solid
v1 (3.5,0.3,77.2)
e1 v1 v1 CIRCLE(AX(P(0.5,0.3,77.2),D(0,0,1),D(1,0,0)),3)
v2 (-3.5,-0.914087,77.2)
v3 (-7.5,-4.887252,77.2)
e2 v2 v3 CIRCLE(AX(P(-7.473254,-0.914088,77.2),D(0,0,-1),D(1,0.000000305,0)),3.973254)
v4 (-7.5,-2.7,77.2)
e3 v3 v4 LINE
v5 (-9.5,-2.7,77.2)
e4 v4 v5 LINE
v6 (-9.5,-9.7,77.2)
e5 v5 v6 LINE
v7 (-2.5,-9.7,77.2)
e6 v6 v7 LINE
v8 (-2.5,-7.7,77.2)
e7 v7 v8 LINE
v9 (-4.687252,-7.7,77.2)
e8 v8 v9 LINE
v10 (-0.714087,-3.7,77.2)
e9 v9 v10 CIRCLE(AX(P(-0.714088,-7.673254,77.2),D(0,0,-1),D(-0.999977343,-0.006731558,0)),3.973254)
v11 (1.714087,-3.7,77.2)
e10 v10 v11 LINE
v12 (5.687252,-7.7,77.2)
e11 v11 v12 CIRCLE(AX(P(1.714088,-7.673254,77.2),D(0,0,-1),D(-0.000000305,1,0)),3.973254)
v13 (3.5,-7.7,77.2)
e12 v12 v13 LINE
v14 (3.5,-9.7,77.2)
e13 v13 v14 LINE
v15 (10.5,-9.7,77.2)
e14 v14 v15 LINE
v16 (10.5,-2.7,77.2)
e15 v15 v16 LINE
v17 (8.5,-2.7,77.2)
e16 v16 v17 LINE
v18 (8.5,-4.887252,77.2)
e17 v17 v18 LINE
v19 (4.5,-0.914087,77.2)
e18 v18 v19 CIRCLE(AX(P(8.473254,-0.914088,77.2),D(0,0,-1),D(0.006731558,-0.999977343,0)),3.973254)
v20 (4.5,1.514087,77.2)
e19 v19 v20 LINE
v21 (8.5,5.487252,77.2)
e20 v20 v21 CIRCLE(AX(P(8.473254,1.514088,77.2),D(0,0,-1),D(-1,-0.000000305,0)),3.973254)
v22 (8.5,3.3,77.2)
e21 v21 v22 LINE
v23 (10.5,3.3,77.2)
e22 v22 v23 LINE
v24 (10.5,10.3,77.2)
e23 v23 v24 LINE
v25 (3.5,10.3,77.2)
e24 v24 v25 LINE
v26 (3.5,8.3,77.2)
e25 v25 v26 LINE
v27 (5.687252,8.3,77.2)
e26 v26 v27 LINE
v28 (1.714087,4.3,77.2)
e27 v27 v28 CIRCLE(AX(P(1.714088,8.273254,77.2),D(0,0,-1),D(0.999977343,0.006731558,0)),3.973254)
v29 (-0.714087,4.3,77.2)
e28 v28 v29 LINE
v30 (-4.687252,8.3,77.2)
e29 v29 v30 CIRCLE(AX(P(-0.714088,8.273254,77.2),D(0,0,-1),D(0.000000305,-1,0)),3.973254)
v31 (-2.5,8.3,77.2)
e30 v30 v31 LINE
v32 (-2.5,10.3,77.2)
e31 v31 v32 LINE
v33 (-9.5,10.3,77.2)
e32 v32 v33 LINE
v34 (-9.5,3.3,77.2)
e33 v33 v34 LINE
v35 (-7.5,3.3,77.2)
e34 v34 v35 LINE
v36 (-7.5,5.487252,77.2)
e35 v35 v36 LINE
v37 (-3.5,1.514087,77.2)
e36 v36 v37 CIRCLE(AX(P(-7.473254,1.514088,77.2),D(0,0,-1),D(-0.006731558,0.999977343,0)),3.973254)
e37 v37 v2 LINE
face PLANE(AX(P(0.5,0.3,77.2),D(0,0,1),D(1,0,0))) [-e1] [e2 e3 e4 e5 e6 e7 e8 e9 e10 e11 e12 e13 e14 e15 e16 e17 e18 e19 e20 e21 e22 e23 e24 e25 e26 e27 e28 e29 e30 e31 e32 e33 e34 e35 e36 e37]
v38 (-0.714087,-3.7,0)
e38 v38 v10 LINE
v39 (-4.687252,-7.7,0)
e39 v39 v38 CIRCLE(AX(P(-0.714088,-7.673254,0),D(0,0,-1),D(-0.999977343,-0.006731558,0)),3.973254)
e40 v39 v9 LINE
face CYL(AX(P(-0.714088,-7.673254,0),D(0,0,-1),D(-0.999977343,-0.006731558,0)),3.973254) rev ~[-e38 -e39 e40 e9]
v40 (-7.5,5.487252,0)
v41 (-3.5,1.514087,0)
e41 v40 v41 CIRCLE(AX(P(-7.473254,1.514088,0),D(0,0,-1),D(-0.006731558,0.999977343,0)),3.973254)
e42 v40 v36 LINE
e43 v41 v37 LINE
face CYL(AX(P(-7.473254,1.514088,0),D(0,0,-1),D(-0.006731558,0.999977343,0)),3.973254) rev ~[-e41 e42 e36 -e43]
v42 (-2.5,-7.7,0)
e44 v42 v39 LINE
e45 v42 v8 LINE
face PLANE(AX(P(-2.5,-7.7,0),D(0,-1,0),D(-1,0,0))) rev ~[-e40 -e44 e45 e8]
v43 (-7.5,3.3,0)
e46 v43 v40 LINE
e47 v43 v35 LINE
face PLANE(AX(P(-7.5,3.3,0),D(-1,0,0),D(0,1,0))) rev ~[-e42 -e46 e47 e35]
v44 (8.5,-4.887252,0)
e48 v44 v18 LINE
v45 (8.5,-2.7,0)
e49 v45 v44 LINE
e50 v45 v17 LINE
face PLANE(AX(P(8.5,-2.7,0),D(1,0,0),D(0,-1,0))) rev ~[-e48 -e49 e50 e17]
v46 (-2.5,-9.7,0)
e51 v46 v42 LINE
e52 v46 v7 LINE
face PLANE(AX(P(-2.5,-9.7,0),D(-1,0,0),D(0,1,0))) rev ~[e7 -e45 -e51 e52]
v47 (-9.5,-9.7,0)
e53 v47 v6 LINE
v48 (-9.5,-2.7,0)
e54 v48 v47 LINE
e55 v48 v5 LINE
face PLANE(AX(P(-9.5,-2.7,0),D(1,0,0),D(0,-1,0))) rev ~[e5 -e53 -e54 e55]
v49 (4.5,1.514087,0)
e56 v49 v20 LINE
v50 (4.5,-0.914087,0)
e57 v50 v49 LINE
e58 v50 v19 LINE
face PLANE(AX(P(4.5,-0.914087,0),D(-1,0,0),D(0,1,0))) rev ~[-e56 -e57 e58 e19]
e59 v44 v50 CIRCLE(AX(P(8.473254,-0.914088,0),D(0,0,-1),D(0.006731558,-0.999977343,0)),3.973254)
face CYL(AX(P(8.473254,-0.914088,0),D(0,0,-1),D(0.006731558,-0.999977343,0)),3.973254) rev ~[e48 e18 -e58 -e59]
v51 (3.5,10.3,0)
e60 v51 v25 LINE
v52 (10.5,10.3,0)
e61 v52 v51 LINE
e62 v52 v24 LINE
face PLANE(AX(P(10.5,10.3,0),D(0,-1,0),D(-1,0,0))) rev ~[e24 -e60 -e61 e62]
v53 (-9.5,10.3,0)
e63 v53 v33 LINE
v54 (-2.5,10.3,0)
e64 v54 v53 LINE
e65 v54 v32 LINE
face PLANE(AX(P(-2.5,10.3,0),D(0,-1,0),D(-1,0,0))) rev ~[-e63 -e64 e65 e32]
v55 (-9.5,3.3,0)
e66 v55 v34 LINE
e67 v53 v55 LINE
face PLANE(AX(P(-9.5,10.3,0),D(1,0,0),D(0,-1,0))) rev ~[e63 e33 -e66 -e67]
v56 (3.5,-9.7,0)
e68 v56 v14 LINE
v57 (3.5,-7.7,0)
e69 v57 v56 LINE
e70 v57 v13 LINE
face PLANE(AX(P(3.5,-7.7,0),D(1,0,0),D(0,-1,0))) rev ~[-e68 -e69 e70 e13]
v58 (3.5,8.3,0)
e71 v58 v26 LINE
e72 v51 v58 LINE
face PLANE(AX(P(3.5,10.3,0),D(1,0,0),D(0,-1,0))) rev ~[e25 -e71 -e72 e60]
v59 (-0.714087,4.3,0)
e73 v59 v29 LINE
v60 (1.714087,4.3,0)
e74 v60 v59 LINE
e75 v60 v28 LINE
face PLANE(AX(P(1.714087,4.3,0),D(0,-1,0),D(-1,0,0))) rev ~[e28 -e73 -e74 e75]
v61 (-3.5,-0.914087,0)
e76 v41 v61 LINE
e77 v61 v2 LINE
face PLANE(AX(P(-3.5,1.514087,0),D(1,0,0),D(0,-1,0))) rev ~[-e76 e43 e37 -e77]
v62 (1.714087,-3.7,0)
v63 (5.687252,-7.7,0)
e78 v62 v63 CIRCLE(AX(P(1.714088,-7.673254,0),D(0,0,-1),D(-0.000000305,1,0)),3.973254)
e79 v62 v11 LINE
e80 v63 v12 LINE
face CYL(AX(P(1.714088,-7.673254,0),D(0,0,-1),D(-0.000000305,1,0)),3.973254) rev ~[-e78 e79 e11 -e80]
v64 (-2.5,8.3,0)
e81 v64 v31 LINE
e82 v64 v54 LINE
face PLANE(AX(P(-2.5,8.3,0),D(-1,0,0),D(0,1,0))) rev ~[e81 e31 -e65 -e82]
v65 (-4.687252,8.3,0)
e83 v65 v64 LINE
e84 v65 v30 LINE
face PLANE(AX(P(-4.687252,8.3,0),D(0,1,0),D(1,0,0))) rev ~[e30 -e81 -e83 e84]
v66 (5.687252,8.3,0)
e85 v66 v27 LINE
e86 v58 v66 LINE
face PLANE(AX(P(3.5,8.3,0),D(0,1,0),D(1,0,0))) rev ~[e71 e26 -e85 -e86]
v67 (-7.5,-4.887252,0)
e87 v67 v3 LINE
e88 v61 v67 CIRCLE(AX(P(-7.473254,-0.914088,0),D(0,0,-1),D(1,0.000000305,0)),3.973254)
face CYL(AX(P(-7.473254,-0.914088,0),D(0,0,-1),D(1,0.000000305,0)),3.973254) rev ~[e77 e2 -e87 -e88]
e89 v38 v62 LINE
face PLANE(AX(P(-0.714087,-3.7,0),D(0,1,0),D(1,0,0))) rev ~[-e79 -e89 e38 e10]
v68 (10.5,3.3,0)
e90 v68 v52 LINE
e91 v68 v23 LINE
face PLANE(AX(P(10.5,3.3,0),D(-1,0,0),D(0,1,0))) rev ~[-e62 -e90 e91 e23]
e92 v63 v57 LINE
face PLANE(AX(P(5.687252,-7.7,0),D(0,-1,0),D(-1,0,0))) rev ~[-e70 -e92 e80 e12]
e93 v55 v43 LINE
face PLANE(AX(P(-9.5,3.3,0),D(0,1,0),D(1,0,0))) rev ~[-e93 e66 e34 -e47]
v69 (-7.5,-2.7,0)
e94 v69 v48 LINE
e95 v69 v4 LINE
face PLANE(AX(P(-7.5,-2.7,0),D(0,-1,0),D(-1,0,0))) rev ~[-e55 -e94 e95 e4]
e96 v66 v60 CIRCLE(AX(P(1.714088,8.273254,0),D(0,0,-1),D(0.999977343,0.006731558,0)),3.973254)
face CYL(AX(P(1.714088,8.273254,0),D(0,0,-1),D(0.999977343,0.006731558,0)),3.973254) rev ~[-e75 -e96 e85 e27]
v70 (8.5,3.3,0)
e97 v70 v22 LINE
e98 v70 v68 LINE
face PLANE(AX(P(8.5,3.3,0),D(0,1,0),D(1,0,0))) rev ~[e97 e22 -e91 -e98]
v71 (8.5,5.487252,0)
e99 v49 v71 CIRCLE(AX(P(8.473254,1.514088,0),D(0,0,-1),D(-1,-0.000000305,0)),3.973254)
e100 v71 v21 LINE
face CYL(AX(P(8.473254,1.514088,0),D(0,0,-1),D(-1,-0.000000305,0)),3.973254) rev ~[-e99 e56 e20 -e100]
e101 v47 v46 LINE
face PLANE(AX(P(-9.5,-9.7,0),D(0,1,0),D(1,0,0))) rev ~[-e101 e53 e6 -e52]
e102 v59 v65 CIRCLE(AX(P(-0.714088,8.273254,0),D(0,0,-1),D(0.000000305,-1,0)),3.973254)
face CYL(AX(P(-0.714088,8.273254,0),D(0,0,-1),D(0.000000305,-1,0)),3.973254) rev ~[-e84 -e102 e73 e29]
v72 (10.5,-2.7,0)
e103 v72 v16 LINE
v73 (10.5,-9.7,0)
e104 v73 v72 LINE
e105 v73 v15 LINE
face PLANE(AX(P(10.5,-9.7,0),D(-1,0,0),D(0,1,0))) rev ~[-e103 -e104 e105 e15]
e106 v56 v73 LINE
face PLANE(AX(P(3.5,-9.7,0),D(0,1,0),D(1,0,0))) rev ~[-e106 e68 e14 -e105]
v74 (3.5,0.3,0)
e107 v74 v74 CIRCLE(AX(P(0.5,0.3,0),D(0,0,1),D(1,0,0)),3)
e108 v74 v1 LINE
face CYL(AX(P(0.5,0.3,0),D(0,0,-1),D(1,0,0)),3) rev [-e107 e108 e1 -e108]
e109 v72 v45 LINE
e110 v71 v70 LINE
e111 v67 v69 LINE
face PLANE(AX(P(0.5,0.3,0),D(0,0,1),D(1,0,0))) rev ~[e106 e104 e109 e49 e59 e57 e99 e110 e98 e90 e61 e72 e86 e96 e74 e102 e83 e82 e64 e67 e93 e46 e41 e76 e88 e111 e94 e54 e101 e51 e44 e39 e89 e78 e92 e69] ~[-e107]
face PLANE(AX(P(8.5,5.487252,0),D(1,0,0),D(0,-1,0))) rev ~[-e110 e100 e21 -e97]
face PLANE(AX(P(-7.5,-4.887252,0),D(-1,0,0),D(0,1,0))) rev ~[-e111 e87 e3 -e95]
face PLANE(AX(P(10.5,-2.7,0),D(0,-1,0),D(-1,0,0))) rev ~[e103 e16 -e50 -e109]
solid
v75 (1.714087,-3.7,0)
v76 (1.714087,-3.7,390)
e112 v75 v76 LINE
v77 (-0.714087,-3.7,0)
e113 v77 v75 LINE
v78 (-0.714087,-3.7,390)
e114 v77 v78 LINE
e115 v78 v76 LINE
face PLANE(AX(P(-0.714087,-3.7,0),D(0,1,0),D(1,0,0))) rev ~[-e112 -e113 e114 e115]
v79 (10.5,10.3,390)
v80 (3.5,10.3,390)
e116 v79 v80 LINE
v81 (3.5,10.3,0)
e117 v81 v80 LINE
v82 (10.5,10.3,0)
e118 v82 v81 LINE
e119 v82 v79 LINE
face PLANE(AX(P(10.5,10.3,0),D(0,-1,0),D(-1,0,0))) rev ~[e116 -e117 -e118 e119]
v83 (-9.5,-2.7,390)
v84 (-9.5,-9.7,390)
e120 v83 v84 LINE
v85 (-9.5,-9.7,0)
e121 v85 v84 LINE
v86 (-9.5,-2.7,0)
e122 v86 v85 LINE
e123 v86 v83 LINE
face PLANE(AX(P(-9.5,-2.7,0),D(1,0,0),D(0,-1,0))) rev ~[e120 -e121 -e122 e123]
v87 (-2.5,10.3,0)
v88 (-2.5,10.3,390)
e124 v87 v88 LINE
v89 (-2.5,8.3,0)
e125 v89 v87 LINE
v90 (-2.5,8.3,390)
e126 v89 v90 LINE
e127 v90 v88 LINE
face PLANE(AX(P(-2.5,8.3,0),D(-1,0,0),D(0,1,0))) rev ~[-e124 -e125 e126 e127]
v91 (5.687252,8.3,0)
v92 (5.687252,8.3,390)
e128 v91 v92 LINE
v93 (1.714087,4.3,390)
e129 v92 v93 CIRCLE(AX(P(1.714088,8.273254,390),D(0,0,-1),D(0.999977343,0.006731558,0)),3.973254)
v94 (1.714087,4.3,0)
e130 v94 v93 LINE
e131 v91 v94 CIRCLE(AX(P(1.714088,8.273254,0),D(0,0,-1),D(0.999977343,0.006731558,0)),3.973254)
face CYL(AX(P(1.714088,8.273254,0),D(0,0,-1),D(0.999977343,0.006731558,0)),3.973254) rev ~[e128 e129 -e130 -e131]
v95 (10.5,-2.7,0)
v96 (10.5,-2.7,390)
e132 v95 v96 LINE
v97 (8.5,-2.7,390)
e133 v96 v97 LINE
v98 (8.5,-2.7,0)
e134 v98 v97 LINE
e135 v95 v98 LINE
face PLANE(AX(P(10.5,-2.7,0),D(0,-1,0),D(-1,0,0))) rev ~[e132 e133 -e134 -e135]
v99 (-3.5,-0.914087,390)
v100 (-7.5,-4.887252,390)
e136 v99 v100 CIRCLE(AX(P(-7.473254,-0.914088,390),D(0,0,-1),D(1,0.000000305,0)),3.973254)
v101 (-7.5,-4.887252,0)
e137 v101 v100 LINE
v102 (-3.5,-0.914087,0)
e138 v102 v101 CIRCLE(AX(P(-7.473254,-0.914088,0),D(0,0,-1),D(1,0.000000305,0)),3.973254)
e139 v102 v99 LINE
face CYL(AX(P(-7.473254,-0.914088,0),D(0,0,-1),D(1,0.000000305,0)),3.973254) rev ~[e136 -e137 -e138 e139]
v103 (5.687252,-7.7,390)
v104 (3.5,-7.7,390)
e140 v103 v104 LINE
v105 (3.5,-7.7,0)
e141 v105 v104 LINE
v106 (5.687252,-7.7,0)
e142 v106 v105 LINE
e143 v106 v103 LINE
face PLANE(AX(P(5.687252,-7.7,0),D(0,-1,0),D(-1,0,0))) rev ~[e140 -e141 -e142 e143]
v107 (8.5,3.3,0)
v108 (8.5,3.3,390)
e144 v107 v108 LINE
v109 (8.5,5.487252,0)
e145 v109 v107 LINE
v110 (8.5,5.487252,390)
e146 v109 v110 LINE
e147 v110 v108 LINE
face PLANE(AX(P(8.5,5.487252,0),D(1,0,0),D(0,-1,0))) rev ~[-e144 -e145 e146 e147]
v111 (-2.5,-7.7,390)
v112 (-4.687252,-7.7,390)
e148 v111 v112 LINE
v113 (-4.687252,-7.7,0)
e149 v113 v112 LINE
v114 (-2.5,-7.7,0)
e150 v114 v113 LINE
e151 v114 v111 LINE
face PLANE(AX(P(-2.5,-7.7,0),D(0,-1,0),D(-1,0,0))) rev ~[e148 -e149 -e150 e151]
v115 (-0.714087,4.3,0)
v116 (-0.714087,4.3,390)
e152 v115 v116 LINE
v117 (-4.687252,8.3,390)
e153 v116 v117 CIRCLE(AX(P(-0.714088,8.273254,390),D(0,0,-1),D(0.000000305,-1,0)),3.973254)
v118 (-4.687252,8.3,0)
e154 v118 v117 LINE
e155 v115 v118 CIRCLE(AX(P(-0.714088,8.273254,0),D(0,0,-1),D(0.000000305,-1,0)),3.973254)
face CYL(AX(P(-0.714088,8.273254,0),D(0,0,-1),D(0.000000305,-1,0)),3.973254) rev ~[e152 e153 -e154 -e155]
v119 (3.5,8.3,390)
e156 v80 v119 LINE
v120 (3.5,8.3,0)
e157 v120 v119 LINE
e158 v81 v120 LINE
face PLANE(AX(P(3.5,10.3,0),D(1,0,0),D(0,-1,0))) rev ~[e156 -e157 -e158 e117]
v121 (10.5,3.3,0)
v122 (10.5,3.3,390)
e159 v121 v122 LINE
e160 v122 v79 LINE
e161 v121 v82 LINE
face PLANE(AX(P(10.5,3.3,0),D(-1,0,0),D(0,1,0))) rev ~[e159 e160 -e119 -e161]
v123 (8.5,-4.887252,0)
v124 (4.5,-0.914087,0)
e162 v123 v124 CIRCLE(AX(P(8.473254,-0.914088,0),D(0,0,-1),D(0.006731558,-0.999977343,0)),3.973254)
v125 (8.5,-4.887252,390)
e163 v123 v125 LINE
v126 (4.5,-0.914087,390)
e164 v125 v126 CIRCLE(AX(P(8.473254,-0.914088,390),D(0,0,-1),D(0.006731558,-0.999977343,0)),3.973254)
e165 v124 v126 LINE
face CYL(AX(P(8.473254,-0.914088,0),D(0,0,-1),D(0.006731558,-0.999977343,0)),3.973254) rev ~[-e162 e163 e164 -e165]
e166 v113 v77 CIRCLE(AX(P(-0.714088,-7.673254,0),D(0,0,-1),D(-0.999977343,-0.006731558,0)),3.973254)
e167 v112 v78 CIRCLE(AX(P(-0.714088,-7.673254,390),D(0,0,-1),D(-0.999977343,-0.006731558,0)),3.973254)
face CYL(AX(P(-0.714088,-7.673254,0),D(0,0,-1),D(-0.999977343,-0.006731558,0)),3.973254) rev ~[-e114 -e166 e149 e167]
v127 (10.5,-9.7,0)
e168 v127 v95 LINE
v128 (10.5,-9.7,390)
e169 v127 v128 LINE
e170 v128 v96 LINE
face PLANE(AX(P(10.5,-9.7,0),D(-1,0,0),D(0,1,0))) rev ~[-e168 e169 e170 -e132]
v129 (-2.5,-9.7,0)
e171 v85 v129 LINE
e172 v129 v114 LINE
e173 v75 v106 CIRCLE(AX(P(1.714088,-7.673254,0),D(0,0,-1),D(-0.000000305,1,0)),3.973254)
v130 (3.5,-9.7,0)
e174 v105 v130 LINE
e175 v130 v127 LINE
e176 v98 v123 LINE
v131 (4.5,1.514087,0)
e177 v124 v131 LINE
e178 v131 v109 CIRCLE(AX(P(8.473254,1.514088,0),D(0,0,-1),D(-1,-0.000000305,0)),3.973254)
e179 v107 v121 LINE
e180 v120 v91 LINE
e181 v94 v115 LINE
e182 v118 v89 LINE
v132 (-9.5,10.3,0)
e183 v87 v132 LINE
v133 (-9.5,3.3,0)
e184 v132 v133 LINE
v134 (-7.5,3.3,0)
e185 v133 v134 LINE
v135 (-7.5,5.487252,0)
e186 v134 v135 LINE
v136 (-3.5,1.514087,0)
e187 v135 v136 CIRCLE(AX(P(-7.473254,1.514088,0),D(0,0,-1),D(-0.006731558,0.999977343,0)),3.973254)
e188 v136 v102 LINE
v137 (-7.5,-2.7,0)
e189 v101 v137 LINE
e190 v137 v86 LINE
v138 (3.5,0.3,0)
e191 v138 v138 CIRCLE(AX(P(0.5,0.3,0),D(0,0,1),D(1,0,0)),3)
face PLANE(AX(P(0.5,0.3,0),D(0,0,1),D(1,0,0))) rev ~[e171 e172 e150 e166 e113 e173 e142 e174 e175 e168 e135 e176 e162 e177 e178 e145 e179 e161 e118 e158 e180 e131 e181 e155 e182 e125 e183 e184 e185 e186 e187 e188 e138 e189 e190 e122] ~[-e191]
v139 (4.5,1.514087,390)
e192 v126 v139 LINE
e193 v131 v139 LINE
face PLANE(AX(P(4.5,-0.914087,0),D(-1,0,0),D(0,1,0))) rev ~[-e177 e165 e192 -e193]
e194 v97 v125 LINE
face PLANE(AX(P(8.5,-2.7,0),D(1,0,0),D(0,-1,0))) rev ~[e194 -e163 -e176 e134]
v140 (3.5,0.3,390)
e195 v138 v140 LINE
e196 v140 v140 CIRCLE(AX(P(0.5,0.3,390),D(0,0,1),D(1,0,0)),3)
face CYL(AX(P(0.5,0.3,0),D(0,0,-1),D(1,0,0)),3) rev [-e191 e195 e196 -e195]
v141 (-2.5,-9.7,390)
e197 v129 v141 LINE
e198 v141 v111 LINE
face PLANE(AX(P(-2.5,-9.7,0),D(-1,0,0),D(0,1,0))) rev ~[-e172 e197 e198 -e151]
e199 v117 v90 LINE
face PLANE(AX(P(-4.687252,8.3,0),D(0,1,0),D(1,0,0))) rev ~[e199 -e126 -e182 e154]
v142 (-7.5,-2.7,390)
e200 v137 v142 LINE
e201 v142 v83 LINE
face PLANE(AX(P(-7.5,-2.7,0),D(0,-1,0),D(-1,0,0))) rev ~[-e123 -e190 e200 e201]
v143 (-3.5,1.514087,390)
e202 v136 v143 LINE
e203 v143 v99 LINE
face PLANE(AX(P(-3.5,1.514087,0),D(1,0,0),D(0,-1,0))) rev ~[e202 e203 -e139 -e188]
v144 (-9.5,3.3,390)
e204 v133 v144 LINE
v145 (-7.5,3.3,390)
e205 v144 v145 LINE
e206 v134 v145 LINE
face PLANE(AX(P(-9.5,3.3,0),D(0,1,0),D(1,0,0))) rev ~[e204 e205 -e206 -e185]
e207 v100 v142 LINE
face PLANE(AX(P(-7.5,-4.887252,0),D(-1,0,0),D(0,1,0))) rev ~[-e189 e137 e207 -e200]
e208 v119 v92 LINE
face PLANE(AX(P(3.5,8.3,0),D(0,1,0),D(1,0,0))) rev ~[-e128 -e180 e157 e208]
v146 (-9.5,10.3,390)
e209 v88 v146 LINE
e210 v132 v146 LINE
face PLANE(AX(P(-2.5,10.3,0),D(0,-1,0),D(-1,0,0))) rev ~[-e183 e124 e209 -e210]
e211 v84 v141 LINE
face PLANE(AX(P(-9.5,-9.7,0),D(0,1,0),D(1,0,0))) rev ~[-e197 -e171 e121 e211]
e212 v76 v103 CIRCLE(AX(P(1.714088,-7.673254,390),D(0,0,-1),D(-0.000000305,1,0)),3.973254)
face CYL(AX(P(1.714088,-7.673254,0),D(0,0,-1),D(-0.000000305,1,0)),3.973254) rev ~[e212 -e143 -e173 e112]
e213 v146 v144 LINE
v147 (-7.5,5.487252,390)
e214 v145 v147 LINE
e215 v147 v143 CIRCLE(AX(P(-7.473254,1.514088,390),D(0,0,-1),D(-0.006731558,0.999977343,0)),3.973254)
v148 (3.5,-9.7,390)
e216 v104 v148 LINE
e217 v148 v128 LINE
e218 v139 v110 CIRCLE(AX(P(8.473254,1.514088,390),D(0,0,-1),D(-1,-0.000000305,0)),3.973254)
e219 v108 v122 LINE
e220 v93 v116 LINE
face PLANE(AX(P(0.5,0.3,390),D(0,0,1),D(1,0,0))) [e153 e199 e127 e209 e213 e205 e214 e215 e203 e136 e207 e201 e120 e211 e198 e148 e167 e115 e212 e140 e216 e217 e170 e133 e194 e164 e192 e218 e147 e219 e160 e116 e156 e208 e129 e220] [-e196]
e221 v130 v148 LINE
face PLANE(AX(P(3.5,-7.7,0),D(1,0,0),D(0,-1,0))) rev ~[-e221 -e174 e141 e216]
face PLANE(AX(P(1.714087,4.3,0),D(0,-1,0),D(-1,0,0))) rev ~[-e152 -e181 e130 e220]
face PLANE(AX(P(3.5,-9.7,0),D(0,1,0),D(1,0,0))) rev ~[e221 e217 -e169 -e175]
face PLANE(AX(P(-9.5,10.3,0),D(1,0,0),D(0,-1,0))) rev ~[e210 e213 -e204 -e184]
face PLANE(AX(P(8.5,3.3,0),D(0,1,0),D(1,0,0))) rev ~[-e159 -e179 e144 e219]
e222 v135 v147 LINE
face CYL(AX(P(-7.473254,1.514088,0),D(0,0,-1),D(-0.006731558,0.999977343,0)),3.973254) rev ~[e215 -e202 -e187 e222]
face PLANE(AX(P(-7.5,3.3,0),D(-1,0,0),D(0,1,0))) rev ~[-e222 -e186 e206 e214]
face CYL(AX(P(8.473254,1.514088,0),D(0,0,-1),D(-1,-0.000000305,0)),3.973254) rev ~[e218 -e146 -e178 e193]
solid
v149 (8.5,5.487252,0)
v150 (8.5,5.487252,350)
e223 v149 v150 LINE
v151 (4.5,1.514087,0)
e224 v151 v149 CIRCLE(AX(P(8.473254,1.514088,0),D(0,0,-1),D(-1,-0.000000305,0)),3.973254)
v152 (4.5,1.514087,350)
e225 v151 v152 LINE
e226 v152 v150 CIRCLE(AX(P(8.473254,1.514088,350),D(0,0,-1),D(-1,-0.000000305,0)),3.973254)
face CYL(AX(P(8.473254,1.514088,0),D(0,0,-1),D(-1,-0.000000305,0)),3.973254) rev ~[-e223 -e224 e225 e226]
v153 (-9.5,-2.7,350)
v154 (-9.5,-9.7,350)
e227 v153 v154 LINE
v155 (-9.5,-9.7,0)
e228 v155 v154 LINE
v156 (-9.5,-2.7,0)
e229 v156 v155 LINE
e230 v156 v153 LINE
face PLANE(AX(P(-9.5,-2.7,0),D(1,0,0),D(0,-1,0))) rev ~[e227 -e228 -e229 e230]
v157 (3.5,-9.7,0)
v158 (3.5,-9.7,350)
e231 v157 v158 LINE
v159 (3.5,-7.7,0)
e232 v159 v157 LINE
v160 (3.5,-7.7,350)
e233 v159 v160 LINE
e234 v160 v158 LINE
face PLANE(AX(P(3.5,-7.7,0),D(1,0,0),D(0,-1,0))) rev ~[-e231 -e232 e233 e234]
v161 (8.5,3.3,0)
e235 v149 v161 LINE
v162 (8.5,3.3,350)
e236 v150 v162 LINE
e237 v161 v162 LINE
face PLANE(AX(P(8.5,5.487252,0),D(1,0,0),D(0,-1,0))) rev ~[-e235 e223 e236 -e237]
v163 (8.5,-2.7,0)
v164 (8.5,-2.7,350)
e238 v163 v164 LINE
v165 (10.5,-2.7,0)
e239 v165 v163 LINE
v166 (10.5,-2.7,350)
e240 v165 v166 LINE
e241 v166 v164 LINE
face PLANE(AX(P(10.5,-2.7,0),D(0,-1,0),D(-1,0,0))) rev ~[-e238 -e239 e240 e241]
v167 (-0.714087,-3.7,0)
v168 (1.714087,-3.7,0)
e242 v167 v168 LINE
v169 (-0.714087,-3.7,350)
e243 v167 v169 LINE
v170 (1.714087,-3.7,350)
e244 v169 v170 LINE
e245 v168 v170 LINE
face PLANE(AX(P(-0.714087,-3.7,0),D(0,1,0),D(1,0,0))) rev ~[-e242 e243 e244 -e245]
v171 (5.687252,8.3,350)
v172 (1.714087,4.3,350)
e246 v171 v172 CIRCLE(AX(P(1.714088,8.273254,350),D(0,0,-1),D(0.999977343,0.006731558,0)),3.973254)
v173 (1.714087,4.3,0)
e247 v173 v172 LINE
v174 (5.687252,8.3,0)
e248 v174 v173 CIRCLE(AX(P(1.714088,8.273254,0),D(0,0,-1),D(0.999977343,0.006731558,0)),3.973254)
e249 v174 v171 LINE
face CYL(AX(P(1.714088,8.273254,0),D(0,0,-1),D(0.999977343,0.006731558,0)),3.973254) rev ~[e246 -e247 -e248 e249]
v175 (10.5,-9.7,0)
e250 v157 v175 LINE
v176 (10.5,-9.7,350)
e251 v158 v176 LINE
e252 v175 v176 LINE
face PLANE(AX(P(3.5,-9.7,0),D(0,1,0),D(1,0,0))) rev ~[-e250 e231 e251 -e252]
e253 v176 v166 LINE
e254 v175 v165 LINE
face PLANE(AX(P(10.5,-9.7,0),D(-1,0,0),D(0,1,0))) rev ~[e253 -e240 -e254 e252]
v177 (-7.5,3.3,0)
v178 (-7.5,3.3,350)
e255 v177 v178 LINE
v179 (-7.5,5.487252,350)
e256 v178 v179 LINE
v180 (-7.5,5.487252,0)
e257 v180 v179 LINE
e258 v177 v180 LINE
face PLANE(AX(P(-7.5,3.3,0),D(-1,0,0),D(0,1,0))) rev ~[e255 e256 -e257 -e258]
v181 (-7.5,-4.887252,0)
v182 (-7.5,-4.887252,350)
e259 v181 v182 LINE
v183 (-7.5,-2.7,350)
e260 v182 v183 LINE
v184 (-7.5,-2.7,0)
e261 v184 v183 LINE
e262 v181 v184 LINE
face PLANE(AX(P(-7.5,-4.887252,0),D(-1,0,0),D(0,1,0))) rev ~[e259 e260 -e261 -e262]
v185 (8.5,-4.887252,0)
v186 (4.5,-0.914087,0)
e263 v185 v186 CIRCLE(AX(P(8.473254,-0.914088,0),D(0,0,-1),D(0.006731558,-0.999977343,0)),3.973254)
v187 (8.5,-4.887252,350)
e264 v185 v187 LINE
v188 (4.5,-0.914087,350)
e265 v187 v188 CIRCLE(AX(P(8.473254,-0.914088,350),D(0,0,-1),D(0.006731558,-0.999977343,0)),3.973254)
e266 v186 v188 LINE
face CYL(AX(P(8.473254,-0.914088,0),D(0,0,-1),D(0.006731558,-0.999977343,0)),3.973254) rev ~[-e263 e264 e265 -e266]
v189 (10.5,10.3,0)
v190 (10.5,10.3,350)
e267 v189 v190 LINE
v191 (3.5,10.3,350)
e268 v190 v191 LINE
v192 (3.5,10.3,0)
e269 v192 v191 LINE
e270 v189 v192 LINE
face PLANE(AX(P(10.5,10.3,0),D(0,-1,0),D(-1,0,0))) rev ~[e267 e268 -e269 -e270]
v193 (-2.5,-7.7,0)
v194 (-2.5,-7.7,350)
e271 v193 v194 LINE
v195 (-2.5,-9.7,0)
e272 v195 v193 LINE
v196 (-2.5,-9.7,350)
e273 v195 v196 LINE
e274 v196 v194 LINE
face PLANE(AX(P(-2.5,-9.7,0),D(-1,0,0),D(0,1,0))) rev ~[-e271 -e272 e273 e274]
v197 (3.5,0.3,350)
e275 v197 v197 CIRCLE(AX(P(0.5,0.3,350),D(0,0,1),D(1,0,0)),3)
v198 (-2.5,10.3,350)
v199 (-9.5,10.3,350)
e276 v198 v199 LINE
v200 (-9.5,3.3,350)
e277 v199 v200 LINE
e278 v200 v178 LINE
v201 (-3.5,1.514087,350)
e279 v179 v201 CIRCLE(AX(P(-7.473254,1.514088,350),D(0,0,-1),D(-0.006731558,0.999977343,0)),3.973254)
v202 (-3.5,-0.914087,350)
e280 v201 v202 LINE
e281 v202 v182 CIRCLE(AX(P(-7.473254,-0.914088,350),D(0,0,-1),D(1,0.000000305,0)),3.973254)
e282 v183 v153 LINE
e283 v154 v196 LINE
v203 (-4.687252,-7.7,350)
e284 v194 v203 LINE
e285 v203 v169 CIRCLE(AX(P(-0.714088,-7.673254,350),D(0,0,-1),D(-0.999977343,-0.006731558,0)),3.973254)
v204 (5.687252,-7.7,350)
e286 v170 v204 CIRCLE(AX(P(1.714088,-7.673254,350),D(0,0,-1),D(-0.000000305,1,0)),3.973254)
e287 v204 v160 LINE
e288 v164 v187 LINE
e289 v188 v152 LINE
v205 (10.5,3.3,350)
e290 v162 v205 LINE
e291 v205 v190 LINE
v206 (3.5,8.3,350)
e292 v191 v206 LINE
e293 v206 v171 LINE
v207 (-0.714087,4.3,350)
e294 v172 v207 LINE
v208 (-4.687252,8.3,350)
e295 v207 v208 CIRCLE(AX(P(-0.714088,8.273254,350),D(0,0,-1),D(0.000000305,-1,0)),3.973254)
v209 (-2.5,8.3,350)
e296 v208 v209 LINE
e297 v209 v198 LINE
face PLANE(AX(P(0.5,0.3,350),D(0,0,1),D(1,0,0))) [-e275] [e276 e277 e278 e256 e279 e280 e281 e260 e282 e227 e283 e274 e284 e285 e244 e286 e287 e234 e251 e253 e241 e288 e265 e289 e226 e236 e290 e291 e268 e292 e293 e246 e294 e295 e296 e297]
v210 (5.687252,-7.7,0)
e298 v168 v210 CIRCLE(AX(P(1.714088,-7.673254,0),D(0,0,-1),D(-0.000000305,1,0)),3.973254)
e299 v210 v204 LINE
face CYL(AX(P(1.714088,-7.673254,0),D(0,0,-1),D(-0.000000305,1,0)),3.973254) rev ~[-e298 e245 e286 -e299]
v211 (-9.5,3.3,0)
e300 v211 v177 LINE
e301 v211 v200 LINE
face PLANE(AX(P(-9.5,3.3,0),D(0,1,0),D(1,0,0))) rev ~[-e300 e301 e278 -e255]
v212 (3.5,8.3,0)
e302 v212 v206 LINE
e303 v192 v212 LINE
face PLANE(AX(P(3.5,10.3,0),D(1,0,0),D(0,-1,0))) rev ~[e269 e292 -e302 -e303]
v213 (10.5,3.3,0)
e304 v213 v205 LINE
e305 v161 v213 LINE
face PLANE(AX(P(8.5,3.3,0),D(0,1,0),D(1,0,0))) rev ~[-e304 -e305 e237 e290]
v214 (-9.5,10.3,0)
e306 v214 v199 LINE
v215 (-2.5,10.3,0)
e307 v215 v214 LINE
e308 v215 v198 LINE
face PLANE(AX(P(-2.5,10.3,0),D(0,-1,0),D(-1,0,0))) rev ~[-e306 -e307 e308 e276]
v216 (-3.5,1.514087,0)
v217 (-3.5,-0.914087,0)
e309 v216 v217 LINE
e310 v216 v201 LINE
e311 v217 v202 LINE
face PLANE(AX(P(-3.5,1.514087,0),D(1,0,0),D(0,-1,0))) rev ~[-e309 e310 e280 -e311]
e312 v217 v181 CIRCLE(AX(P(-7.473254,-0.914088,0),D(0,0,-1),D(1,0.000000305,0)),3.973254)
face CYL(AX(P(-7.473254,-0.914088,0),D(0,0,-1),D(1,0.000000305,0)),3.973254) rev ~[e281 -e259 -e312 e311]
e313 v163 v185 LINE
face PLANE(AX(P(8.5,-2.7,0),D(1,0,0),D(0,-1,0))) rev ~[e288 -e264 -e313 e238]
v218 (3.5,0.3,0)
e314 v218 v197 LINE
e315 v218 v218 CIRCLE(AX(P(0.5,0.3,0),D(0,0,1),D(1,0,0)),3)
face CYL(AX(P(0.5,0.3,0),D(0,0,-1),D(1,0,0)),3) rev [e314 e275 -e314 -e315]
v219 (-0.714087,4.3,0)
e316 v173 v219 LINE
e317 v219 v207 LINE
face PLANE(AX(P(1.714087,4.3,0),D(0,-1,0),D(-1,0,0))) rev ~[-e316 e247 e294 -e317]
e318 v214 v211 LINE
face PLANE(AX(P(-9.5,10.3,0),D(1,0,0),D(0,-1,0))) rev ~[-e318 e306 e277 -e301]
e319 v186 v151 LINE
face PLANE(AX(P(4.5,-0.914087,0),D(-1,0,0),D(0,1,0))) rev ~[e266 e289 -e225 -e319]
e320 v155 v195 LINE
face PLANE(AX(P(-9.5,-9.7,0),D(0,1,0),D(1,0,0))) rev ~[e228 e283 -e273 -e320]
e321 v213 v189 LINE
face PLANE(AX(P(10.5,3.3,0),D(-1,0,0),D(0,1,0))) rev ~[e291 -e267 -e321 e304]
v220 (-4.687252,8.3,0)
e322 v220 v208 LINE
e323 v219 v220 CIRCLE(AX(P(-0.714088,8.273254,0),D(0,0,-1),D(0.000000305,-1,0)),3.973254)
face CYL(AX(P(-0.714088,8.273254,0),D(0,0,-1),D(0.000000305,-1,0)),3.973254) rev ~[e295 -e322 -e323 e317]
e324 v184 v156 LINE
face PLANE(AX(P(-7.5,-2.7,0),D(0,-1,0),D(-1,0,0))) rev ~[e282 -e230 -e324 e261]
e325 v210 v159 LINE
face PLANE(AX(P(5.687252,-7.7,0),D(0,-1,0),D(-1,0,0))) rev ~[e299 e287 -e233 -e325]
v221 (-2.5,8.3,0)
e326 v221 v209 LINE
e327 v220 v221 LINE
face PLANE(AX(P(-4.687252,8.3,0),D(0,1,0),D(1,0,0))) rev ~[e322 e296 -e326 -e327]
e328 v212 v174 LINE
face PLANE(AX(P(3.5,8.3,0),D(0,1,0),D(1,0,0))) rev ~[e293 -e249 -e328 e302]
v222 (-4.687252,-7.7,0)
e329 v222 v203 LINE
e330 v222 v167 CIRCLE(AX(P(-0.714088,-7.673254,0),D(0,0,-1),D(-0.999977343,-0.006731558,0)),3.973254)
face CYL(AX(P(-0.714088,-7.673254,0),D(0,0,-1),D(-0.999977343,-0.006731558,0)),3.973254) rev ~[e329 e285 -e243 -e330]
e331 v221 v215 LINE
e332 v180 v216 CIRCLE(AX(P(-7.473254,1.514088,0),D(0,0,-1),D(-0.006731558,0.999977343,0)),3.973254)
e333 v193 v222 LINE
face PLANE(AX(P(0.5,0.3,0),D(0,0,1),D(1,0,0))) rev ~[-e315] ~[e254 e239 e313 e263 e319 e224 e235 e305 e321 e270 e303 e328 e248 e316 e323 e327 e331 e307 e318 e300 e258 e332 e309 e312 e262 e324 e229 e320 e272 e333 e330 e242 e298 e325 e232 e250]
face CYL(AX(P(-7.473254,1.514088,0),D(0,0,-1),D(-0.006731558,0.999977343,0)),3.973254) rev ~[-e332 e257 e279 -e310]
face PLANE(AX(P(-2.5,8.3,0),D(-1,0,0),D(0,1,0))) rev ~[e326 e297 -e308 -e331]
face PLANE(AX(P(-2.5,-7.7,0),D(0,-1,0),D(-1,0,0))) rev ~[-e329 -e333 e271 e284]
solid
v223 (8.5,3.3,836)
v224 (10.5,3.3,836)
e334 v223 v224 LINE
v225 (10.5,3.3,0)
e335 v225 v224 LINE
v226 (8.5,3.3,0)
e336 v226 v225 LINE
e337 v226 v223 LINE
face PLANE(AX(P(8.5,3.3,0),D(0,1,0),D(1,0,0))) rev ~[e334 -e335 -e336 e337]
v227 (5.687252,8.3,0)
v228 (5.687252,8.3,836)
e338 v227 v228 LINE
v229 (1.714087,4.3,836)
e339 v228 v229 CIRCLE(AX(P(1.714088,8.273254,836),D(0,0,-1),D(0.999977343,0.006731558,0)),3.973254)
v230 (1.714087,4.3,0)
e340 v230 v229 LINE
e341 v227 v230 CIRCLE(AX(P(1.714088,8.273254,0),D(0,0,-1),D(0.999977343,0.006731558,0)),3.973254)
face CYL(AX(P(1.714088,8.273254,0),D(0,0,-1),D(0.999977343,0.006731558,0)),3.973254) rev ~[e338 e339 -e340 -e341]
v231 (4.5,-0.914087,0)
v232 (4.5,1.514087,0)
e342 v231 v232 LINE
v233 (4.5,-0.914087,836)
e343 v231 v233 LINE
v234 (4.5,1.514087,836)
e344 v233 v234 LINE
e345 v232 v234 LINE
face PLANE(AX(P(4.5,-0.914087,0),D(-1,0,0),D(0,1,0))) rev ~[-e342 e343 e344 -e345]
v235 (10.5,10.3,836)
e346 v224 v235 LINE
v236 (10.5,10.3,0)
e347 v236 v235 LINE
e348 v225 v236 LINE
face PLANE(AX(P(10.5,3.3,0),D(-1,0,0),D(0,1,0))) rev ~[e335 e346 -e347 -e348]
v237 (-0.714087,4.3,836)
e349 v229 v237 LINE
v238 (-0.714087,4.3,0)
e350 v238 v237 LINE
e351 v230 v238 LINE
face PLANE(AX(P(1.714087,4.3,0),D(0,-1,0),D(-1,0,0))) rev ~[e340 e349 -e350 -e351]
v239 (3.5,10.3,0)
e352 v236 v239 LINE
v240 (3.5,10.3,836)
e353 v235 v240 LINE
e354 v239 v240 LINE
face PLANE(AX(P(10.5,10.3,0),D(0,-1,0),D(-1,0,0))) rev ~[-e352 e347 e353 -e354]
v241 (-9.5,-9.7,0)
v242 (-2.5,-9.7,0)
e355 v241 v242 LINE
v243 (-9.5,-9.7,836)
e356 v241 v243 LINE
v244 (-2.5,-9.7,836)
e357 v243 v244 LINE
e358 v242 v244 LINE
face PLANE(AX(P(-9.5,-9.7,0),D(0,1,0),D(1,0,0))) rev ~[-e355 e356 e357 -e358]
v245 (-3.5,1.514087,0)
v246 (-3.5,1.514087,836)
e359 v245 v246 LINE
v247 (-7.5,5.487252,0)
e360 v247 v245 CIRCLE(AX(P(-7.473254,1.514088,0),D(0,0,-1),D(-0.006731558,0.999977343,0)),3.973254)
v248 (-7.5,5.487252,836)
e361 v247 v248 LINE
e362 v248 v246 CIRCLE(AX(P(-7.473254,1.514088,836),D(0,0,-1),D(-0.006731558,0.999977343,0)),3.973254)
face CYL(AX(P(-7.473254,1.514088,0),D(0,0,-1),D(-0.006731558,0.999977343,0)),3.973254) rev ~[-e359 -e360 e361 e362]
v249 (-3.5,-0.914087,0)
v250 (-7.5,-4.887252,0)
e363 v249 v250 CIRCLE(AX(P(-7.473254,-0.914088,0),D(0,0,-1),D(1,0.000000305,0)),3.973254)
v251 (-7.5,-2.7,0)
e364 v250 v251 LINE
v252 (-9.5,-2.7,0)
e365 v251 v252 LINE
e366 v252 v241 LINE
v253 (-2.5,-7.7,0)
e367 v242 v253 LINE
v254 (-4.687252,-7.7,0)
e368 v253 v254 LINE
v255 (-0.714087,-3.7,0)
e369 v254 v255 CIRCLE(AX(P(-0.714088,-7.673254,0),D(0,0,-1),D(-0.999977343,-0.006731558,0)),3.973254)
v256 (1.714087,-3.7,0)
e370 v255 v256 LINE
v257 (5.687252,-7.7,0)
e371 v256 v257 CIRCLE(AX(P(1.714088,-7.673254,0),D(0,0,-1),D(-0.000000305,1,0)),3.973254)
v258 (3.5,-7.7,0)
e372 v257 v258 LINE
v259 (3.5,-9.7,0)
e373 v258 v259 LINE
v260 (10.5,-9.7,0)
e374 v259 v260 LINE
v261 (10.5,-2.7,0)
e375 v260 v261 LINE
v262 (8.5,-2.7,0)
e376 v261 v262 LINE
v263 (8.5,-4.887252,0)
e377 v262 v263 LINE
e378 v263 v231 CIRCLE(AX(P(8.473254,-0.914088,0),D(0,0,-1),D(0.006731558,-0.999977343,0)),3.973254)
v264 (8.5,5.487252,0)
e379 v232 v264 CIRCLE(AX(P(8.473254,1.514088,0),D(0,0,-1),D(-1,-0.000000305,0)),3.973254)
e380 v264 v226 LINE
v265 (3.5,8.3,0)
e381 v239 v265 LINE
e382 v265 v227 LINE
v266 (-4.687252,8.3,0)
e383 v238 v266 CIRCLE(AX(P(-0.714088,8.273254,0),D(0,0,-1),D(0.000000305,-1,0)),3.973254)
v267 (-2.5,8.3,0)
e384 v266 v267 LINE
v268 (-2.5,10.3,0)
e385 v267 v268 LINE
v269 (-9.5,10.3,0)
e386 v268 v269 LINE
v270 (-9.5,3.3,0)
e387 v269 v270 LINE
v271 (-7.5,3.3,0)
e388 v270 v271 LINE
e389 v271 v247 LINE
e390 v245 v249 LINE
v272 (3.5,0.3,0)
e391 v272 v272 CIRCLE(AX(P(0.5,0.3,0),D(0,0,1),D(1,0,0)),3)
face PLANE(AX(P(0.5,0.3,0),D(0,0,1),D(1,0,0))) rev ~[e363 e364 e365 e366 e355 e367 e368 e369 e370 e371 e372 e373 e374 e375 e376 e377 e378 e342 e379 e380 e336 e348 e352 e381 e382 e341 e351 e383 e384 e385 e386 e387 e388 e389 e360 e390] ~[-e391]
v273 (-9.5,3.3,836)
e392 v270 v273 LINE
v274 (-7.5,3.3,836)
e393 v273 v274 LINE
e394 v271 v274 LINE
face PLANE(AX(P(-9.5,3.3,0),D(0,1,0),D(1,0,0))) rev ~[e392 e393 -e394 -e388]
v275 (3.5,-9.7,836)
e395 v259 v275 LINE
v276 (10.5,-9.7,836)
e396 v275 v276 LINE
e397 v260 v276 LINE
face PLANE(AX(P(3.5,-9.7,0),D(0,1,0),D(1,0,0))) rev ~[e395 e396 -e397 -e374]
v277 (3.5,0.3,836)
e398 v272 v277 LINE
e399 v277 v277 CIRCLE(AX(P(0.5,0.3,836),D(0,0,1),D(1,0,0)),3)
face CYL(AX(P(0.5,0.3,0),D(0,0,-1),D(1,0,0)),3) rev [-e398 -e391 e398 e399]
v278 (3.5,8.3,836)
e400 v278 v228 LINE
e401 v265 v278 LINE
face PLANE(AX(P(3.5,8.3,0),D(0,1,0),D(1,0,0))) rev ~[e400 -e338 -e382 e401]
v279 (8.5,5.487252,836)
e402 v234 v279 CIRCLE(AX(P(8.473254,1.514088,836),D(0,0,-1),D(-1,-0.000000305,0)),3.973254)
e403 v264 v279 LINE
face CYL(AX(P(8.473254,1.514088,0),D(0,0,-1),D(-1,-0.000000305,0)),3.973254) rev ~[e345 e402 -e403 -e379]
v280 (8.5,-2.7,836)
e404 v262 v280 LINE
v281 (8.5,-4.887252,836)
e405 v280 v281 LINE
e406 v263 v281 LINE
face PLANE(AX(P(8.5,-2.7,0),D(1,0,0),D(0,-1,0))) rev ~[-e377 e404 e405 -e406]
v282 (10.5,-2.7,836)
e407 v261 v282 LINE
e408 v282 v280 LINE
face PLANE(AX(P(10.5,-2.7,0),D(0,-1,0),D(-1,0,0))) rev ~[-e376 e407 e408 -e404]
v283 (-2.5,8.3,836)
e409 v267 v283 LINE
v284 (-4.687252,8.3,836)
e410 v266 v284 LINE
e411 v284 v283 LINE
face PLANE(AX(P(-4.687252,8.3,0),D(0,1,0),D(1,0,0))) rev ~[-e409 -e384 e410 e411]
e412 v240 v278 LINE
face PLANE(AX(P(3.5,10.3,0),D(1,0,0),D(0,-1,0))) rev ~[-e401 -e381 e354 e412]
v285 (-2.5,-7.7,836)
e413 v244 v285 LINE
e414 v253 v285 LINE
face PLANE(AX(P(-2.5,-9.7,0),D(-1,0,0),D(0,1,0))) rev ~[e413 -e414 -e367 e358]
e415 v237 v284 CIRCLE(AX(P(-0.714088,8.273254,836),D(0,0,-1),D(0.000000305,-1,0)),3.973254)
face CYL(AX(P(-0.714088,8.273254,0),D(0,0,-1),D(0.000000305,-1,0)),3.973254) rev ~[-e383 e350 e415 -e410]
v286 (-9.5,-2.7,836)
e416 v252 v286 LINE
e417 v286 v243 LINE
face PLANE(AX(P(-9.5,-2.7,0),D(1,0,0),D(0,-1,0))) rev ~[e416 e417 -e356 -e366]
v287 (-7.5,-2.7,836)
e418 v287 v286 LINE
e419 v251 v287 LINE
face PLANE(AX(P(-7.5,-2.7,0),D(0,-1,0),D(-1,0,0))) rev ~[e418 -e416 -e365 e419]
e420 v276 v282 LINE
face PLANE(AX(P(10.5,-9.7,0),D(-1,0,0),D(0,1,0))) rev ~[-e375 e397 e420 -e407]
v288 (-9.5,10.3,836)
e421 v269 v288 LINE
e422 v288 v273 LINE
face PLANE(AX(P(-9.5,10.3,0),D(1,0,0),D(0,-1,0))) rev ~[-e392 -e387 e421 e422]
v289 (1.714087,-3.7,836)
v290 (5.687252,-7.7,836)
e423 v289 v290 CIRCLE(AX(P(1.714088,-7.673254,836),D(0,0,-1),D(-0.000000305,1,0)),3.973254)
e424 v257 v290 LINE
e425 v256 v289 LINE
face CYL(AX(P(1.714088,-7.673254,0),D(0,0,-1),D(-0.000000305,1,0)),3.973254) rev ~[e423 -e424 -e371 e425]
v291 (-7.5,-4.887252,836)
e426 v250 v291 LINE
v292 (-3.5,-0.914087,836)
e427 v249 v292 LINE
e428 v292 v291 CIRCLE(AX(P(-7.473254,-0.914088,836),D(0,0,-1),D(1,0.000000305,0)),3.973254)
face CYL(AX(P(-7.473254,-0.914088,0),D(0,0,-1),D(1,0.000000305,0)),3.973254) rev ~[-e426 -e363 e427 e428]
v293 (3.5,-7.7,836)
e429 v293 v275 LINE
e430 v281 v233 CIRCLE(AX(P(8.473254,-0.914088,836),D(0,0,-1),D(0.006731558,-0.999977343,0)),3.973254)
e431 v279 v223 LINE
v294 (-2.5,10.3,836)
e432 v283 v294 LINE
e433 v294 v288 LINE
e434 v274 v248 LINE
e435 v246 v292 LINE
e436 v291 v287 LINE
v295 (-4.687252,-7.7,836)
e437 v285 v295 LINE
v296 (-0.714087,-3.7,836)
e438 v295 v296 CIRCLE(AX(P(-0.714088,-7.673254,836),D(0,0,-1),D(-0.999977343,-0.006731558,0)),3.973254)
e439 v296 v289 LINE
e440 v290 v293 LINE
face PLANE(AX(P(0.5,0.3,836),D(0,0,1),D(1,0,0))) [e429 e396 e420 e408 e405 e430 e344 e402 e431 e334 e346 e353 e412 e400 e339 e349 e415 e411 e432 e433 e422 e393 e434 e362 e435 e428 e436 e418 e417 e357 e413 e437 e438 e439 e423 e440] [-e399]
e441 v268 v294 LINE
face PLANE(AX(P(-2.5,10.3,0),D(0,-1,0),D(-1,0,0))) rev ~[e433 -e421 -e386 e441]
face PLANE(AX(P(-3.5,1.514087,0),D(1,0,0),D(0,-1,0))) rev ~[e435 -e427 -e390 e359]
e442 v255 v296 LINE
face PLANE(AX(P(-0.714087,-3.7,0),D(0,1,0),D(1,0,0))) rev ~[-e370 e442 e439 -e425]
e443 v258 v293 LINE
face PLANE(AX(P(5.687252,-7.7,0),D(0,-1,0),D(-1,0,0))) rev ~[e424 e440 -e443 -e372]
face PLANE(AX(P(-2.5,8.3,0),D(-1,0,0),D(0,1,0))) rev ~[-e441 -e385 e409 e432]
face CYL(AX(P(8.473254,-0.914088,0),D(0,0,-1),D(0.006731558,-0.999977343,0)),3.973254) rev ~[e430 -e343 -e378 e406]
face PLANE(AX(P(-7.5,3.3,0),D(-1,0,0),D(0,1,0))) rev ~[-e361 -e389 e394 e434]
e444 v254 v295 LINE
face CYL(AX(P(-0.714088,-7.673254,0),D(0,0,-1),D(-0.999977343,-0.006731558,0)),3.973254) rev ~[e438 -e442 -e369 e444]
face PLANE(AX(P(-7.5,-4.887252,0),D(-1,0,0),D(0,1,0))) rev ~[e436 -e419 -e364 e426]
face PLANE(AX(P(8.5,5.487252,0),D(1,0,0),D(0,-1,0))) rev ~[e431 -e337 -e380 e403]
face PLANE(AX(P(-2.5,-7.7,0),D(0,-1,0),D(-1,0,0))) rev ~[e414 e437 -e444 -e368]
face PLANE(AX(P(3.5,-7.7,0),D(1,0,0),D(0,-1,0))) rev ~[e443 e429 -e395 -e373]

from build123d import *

# Parameters (mm, degrees)
F0_R     = 3
F1_DEPTH = 350
F2_DEPTH = 77.2
F3_DEPTH = 390
F4_DEPTH = 836


with BuildPart() as f1:
    # F0 (on Top) → F1 (new body)
    with BuildSketch(Plane.XY):
        with BuildLine():
            Line((3.5, 10.3), (3.5, 8.3))
            Line((3.5, 8.3), (5.687252, 8.3))
            ThreePointArc((5.687252, 8.3), (4.533043, 5.473211), (1.714087, 4.3))
            Line((1.714087, 4.3), (0.5, 4.3))
            Line((0.5, 4.3), (-0.714087, 4.3))
            ThreePointArc((-0.714087, 4.3), (-3.533043, 5.473211), (-4.687252, 8.3))
            Line((-4.687252, 8.3), (-2.5, 8.3))
            Line((-2.5, 8.3), (-2.5, 10.3))
            Line((-2.5, 10.3), (-9.5, 10.3))
            Line((-9.5, 10.3), (-9.5, 3.3))
            Line((-9.5, 3.3), (-7.5, 3.3))
            Line((-7.5, 3.3), (-7.5, 5.487252))
            ThreePointArc((-7.5, 5.487252), (-4.673211, 4.333043), (-3.5, 1.514087))
            Line((-3.5, 1.514087), (-3.5, 0.3))
            Line((-3.5, 0.3), (-3.5, -0.914087))
            ThreePointArc((-3.5, -0.914087), (-4.673211, -3.733043), (-7.5, -4.887252))
            Line((-7.5, -4.887252), (-7.5, -2.7))
            Line((-7.5, -2.7), (-9.5, -2.7))
            Line((-9.5, -2.7), (-9.5, -9.7))
            Line((-9.5, -9.7), (-2.5, -9.7))
            Line((-2.5, -9.7), (-2.5, -7.7))
            Line((-2.5, -7.7), (-4.687252, -7.7))
            ThreePointArc((-4.687252, -7.7), (-3.533043, -4.873211), (-0.714087, -3.7))
            Line((-0.714087, -3.7), (0.5, -3.7))
            Line((0.5, -3.7), (1.714087, -3.7))
            ThreePointArc((1.714087, -3.7), (4.533043, -4.873211), (5.687252, -7.7))
            Line((5.687252, -7.7), (3.5, -7.7))
            Line((3.5, -7.7), (3.5, -9.7))
            Line((3.5, -9.7), (10.5, -9.7))
            Line((10.5, -9.7), (10.5, -2.7))
            Line((10.5, -2.7), (8.5, -2.7))
            Line((8.5, -2.7), (8.5, -4.887252))
            ThreePointArc((8.5, -4.887252), (5.673211, -3.733043), (4.5, -0.914087))
            Line((4.5, -0.914087), (4.5, 0.3))
            Line((4.5, 0.3), (4.5, 1.514087))
            ThreePointArc((4.5, 1.514087), (5.673211, 4.333043), (8.5, 5.487252))
            Line((8.5, 5.487252), (8.5, 3.3))
            Line((8.5, 3.3), (10.5, 3.3))
            Line((10.5, 3.3), (10.5, 10.3))
            Line((10.5, 10.3), (3.5, 10.3))
        make_face()
        with Locations((0.5, 0.3)):
            Circle(F0_R, mode=Mode.SUBTRACT)
    extrude(amount=F1_DEPTH)


with BuildPart() as f2:
    # F0 (on Top) → F2 (new body)
    with BuildSketch(Plane.XY):
        with BuildLine():
            Line((3.5, 10.3), (3.5, 8.3))
            Line((3.5, 8.3), (5.687252, 8.3))
            ThreePointArc((5.687252, 8.3), (4.533043, 5.473211), (1.714087, 4.3))
            Line((1.714087, 4.3), (0.5, 4.3))
            Line((0.5, 4.3), (-0.714087, 4.3))
            ThreePointArc((-0.714087, 4.3), (-3.533043, 5.473211), (-4.687252, 8.3))
            Line((-4.687252, 8.3), (-2.5, 8.3))
            Line((-2.5, 8.3), (-2.5, 10.3))
            Line((-2.5, 10.3), (-9.5, 10.3))
            Line((-9.5, 10.3), (-9.5, 3.3))
            Line((-9.5, 3.3), (-7.5, 3.3))
            Line((-7.5, 3.3), (-7.5, 5.487252))
            ThreePointArc((-7.5, 5.487252), (-4.673211, 4.333043), (-3.5, 1.514087))
            Line((-3.5, 1.514087), (-3.5, 0.3))
            Line((-3.5, 0.3), (-3.5, -0.914087))
            ThreePointArc((-3.5, -0.914087), (-4.673211, -3.733043), (-7.5, -4.887252))
            Line((-7.5, -4.887252), (-7.5, -2.7))
            Line((-7.5, -2.7), (-9.5, -2.7))
            Line((-9.5, -2.7), (-9.5, -9.7))
            Line((-9.5, -9.7), (-2.5, -9.7))
            Line((-2.5, -9.7), (-2.5, -7.7))
            Line((-2.5, -7.7), (-4.687252, -7.7))
            ThreePointArc((-4.687252, -7.7), (-3.533043, -4.873211), (-0.714087, -3.7))
            Line((-0.714087, -3.7), (0.5, -3.7))
            Line((0.5, -3.7), (1.714087, -3.7))
            ThreePointArc((1.714087, -3.7), (4.533043, -4.873211), (5.687252, -7.7))
            Line((5.687252, -7.7), (3.5, -7.7))
            Line((3.5, -7.7), (3.5, -9.7))
            Line((3.5, -9.7), (10.5, -9.7))
            Line((10.5, -9.7), (10.5, -2.7))
            Line((10.5, -2.7), (8.5, -2.7))
            Line((8.5, -2.7), (8.5, -4.887252))
            ThreePointArc((8.5, -4.887252), (5.673211, -3.733043), (4.5, -0.914087))
            Line((4.5, -0.914087), (4.5, 0.3))
            Line((4.5, 0.3), (4.5, 1.514087))
            ThreePointArc((4.5, 1.514087), (5.673211, 4.333043), (8.5, 5.487252))
            Line((8.5, 5.487252), (8.5, 3.3))
            Line((8.5, 3.3), (10.5, 3.3))
            Line((10.5, 3.3), (10.5, 10.3))
            Line((10.5, 10.3), (3.5, 10.3))
        make_face()
        with Locations((0.5, 0.3)):
            Circle(F0_R, mode=Mode.SUBTRACT)
    extrude(amount=F2_DEPTH)


with BuildPart() as f3:
    # F0 (on Top) → F3 (new body)
    with BuildSketch(Plane.XY):
        with BuildLine():
            Line((3.5, 10.3), (3.5, 8.3))
            Line((3.5, 8.3), (5.687252, 8.3))
            ThreePointArc((5.687252, 8.3), (4.533043, 5.473211), (1.714087, 4.3))
            Line((1.714087, 4.3), (0.5, 4.3))
            Line((0.5, 4.3), (-0.714087, 4.3))
            ThreePointArc((-0.714087, 4.3), (-3.533043, 5.473211), (-4.687252, 8.3))
            Line((-4.687252, 8.3), (-2.5, 8.3))
            Line((-2.5, 8.3), (-2.5, 10.3))
            Line((-2.5, 10.3), (-9.5, 10.3))
            Line((-9.5, 10.3), (-9.5, 3.3))
            Line((-9.5, 3.3), (-7.5, 3.3))
            Line((-7.5, 3.3), (-7.5, 5.487252))
            ThreePointArc((-7.5, 5.487252), (-4.673211, 4.333043), (-3.5, 1.514087))
            Line((-3.5, 1.514087), (-3.5, 0.3))
            Line((-3.5, 0.3), (-3.5, -0.914087))
            ThreePointArc((-3.5, -0.914087), (-4.673211, -3.733043), (-7.5, -4.887252))
            Line((-7.5, -4.887252), (-7.5, -2.7))
            Line((-7.5, -2.7), (-9.5, -2.7))
            Line((-9.5, -2.7), (-9.5, -9.7))
            Line((-9.5, -9.7), (-2.5, -9.7))
            Line((-2.5, -9.7), (-2.5, -7.7))
            Line((-2.5, -7.7), (-4.687252, -7.7))
            ThreePointArc((-4.687252, -7.7), (-3.533043, -4.873211), (-0.714087, -3.7))
            Line((-0.714087, -3.7), (0.5, -3.7))
            Line((0.5, -3.7), (1.714087, -3.7))
            ThreePointArc((1.714087, -3.7), (4.533043, -4.873211), (5.687252, -7.7))
            Line((5.687252, -7.7), (3.5, -7.7))
            Line((3.5, -7.7), (3.5, -9.7))
            Line((3.5, -9.7), (10.5, -9.7))
            Line((10.5, -9.7), (10.5, -2.7))
            Line((10.5, -2.7), (8.5, -2.7))
            Line((8.5, -2.7), (8.5, -4.887252))
            ThreePointArc((8.5, -4.887252), (5.673211, -3.733043), (4.5, -0.914087))
            Line((4.5, -0.914087), (4.5, 0.3))
            Line((4.5, 0.3), (4.5, 1.514087))
            ThreePointArc((4.5, 1.514087), (5.673211, 4.333043), (8.5, 5.487252))
            Line((8.5, 5.487252), (8.5, 3.3))
            Line((8.5, 3.3), (10.5, 3.3))
            Line((10.5, 3.3), (10.5, 10.3))
            Line((10.5, 10.3), (3.5, 10.3))
        make_face()
        with Locations((0.5, 0.3)):
            Circle(F0_R, mode=Mode.SUBTRACT)
    extrude(amount=F3_DEPTH)


with BuildPart() as f4:
    # F0 (on Top) → F4 (new body)
    with BuildSketch(Plane.XY):
        with BuildLine():
            Line((3.5, 10.3), (3.5, 8.3))
            Line((3.5, 8.3), (5.687252, 8.3))
            ThreePointArc((5.687252, 8.3), (4.533043, 5.473211), (1.714087, 4.3))
            Line((1.714087, 4.3), (0.5, 4.3))
            Line((0.5, 4.3), (-0.714087, 4.3))
            ThreePointArc((-0.714087, 4.3), (-3.533043, 5.473211), (-4.687252, 8.3))
            Line((-4.687252, 8.3), (-2.5, 8.3))
            Line((-2.5, 8.3), (-2.5, 10.3))
            Line((-2.5, 10.3), (-9.5, 10.3))
            Line((-9.5, 10.3), (-9.5, 3.3))
            Line((-9.5, 3.3), (-7.5, 3.3))
            Line((-7.5, 3.3), (-7.5, 5.487252))
            ThreePointArc((-7.5, 5.487252), (-4.673211, 4.333043), (-3.5, 1.514087))
            Line((-3.5, 1.514087), (-3.5, 0.3))
            Line((-3.5, 0.3), (-3.5, -0.914087))
            ThreePointArc((-3.5, -0.914087), (-4.673211, -3.733043), (-7.5, -4.887252))
            Line((-7.5, -4.887252), (-7.5, -2.7))
            Line((-7.5, -2.7), (-9.5, -2.7))
            Line((-9.5, -2.7), (-9.5, -9.7))
            Line((-9.5, -9.7), (-2.5, -9.7))
            Line((-2.5, -9.7), (-2.5, -7.7))
            Line((-2.5, -7.7), (-4.687252, -7.7))
            ThreePointArc((-4.687252, -7.7), (-3.533043, -4.873211), (-0.714087, -3.7))
            Line((-0.714087, -3.7), (0.5, -3.7))
            Line((0.5, -3.7), (1.714087, -3.7))
            ThreePointArc((1.714087, -3.7), (4.533043, -4.873211), (5.687252, -7.7))
            Line((5.687252, -7.7), (3.5, -7.7))
            Line((3.5, -7.7), (3.5, -9.7))
            Line((3.5, -9.7), (10.5, -9.7))
            Line((10.5, -9.7), (10.5, -2.7))
            Line((10.5, -2.7), (8.5, -2.7))
            Line((8.5, -2.7), (8.5, -4.887252))
            ThreePointArc((8.5, -4.887252), (5.673211, -3.733043), (4.5, -0.914087))
            Line((4.5, -0.914087), (4.5, 0.3))
            Line((4.5, 0.3), (4.5, 1.514087))
            ThreePointArc((4.5, 1.514087), (5.673211, 4.333043), (8.5, 5.487252))
            Line((8.5, 5.487252), (8.5, 3.3))
            Line((8.5, 3.3), (10.5, 3.3))
            Line((10.5, 3.3), (10.5, 10.3))
            Line((10.5, 10.3), (3.5, 10.3))
        make_face()
        with Locations((0.5, 0.3)):
            Circle(F0_R, mode=Mode.SUBTRACT)
    extrude(amount=F4_DEPTH)


solid = Compound([f1.part, f2.part, f3.part, f4.part])
